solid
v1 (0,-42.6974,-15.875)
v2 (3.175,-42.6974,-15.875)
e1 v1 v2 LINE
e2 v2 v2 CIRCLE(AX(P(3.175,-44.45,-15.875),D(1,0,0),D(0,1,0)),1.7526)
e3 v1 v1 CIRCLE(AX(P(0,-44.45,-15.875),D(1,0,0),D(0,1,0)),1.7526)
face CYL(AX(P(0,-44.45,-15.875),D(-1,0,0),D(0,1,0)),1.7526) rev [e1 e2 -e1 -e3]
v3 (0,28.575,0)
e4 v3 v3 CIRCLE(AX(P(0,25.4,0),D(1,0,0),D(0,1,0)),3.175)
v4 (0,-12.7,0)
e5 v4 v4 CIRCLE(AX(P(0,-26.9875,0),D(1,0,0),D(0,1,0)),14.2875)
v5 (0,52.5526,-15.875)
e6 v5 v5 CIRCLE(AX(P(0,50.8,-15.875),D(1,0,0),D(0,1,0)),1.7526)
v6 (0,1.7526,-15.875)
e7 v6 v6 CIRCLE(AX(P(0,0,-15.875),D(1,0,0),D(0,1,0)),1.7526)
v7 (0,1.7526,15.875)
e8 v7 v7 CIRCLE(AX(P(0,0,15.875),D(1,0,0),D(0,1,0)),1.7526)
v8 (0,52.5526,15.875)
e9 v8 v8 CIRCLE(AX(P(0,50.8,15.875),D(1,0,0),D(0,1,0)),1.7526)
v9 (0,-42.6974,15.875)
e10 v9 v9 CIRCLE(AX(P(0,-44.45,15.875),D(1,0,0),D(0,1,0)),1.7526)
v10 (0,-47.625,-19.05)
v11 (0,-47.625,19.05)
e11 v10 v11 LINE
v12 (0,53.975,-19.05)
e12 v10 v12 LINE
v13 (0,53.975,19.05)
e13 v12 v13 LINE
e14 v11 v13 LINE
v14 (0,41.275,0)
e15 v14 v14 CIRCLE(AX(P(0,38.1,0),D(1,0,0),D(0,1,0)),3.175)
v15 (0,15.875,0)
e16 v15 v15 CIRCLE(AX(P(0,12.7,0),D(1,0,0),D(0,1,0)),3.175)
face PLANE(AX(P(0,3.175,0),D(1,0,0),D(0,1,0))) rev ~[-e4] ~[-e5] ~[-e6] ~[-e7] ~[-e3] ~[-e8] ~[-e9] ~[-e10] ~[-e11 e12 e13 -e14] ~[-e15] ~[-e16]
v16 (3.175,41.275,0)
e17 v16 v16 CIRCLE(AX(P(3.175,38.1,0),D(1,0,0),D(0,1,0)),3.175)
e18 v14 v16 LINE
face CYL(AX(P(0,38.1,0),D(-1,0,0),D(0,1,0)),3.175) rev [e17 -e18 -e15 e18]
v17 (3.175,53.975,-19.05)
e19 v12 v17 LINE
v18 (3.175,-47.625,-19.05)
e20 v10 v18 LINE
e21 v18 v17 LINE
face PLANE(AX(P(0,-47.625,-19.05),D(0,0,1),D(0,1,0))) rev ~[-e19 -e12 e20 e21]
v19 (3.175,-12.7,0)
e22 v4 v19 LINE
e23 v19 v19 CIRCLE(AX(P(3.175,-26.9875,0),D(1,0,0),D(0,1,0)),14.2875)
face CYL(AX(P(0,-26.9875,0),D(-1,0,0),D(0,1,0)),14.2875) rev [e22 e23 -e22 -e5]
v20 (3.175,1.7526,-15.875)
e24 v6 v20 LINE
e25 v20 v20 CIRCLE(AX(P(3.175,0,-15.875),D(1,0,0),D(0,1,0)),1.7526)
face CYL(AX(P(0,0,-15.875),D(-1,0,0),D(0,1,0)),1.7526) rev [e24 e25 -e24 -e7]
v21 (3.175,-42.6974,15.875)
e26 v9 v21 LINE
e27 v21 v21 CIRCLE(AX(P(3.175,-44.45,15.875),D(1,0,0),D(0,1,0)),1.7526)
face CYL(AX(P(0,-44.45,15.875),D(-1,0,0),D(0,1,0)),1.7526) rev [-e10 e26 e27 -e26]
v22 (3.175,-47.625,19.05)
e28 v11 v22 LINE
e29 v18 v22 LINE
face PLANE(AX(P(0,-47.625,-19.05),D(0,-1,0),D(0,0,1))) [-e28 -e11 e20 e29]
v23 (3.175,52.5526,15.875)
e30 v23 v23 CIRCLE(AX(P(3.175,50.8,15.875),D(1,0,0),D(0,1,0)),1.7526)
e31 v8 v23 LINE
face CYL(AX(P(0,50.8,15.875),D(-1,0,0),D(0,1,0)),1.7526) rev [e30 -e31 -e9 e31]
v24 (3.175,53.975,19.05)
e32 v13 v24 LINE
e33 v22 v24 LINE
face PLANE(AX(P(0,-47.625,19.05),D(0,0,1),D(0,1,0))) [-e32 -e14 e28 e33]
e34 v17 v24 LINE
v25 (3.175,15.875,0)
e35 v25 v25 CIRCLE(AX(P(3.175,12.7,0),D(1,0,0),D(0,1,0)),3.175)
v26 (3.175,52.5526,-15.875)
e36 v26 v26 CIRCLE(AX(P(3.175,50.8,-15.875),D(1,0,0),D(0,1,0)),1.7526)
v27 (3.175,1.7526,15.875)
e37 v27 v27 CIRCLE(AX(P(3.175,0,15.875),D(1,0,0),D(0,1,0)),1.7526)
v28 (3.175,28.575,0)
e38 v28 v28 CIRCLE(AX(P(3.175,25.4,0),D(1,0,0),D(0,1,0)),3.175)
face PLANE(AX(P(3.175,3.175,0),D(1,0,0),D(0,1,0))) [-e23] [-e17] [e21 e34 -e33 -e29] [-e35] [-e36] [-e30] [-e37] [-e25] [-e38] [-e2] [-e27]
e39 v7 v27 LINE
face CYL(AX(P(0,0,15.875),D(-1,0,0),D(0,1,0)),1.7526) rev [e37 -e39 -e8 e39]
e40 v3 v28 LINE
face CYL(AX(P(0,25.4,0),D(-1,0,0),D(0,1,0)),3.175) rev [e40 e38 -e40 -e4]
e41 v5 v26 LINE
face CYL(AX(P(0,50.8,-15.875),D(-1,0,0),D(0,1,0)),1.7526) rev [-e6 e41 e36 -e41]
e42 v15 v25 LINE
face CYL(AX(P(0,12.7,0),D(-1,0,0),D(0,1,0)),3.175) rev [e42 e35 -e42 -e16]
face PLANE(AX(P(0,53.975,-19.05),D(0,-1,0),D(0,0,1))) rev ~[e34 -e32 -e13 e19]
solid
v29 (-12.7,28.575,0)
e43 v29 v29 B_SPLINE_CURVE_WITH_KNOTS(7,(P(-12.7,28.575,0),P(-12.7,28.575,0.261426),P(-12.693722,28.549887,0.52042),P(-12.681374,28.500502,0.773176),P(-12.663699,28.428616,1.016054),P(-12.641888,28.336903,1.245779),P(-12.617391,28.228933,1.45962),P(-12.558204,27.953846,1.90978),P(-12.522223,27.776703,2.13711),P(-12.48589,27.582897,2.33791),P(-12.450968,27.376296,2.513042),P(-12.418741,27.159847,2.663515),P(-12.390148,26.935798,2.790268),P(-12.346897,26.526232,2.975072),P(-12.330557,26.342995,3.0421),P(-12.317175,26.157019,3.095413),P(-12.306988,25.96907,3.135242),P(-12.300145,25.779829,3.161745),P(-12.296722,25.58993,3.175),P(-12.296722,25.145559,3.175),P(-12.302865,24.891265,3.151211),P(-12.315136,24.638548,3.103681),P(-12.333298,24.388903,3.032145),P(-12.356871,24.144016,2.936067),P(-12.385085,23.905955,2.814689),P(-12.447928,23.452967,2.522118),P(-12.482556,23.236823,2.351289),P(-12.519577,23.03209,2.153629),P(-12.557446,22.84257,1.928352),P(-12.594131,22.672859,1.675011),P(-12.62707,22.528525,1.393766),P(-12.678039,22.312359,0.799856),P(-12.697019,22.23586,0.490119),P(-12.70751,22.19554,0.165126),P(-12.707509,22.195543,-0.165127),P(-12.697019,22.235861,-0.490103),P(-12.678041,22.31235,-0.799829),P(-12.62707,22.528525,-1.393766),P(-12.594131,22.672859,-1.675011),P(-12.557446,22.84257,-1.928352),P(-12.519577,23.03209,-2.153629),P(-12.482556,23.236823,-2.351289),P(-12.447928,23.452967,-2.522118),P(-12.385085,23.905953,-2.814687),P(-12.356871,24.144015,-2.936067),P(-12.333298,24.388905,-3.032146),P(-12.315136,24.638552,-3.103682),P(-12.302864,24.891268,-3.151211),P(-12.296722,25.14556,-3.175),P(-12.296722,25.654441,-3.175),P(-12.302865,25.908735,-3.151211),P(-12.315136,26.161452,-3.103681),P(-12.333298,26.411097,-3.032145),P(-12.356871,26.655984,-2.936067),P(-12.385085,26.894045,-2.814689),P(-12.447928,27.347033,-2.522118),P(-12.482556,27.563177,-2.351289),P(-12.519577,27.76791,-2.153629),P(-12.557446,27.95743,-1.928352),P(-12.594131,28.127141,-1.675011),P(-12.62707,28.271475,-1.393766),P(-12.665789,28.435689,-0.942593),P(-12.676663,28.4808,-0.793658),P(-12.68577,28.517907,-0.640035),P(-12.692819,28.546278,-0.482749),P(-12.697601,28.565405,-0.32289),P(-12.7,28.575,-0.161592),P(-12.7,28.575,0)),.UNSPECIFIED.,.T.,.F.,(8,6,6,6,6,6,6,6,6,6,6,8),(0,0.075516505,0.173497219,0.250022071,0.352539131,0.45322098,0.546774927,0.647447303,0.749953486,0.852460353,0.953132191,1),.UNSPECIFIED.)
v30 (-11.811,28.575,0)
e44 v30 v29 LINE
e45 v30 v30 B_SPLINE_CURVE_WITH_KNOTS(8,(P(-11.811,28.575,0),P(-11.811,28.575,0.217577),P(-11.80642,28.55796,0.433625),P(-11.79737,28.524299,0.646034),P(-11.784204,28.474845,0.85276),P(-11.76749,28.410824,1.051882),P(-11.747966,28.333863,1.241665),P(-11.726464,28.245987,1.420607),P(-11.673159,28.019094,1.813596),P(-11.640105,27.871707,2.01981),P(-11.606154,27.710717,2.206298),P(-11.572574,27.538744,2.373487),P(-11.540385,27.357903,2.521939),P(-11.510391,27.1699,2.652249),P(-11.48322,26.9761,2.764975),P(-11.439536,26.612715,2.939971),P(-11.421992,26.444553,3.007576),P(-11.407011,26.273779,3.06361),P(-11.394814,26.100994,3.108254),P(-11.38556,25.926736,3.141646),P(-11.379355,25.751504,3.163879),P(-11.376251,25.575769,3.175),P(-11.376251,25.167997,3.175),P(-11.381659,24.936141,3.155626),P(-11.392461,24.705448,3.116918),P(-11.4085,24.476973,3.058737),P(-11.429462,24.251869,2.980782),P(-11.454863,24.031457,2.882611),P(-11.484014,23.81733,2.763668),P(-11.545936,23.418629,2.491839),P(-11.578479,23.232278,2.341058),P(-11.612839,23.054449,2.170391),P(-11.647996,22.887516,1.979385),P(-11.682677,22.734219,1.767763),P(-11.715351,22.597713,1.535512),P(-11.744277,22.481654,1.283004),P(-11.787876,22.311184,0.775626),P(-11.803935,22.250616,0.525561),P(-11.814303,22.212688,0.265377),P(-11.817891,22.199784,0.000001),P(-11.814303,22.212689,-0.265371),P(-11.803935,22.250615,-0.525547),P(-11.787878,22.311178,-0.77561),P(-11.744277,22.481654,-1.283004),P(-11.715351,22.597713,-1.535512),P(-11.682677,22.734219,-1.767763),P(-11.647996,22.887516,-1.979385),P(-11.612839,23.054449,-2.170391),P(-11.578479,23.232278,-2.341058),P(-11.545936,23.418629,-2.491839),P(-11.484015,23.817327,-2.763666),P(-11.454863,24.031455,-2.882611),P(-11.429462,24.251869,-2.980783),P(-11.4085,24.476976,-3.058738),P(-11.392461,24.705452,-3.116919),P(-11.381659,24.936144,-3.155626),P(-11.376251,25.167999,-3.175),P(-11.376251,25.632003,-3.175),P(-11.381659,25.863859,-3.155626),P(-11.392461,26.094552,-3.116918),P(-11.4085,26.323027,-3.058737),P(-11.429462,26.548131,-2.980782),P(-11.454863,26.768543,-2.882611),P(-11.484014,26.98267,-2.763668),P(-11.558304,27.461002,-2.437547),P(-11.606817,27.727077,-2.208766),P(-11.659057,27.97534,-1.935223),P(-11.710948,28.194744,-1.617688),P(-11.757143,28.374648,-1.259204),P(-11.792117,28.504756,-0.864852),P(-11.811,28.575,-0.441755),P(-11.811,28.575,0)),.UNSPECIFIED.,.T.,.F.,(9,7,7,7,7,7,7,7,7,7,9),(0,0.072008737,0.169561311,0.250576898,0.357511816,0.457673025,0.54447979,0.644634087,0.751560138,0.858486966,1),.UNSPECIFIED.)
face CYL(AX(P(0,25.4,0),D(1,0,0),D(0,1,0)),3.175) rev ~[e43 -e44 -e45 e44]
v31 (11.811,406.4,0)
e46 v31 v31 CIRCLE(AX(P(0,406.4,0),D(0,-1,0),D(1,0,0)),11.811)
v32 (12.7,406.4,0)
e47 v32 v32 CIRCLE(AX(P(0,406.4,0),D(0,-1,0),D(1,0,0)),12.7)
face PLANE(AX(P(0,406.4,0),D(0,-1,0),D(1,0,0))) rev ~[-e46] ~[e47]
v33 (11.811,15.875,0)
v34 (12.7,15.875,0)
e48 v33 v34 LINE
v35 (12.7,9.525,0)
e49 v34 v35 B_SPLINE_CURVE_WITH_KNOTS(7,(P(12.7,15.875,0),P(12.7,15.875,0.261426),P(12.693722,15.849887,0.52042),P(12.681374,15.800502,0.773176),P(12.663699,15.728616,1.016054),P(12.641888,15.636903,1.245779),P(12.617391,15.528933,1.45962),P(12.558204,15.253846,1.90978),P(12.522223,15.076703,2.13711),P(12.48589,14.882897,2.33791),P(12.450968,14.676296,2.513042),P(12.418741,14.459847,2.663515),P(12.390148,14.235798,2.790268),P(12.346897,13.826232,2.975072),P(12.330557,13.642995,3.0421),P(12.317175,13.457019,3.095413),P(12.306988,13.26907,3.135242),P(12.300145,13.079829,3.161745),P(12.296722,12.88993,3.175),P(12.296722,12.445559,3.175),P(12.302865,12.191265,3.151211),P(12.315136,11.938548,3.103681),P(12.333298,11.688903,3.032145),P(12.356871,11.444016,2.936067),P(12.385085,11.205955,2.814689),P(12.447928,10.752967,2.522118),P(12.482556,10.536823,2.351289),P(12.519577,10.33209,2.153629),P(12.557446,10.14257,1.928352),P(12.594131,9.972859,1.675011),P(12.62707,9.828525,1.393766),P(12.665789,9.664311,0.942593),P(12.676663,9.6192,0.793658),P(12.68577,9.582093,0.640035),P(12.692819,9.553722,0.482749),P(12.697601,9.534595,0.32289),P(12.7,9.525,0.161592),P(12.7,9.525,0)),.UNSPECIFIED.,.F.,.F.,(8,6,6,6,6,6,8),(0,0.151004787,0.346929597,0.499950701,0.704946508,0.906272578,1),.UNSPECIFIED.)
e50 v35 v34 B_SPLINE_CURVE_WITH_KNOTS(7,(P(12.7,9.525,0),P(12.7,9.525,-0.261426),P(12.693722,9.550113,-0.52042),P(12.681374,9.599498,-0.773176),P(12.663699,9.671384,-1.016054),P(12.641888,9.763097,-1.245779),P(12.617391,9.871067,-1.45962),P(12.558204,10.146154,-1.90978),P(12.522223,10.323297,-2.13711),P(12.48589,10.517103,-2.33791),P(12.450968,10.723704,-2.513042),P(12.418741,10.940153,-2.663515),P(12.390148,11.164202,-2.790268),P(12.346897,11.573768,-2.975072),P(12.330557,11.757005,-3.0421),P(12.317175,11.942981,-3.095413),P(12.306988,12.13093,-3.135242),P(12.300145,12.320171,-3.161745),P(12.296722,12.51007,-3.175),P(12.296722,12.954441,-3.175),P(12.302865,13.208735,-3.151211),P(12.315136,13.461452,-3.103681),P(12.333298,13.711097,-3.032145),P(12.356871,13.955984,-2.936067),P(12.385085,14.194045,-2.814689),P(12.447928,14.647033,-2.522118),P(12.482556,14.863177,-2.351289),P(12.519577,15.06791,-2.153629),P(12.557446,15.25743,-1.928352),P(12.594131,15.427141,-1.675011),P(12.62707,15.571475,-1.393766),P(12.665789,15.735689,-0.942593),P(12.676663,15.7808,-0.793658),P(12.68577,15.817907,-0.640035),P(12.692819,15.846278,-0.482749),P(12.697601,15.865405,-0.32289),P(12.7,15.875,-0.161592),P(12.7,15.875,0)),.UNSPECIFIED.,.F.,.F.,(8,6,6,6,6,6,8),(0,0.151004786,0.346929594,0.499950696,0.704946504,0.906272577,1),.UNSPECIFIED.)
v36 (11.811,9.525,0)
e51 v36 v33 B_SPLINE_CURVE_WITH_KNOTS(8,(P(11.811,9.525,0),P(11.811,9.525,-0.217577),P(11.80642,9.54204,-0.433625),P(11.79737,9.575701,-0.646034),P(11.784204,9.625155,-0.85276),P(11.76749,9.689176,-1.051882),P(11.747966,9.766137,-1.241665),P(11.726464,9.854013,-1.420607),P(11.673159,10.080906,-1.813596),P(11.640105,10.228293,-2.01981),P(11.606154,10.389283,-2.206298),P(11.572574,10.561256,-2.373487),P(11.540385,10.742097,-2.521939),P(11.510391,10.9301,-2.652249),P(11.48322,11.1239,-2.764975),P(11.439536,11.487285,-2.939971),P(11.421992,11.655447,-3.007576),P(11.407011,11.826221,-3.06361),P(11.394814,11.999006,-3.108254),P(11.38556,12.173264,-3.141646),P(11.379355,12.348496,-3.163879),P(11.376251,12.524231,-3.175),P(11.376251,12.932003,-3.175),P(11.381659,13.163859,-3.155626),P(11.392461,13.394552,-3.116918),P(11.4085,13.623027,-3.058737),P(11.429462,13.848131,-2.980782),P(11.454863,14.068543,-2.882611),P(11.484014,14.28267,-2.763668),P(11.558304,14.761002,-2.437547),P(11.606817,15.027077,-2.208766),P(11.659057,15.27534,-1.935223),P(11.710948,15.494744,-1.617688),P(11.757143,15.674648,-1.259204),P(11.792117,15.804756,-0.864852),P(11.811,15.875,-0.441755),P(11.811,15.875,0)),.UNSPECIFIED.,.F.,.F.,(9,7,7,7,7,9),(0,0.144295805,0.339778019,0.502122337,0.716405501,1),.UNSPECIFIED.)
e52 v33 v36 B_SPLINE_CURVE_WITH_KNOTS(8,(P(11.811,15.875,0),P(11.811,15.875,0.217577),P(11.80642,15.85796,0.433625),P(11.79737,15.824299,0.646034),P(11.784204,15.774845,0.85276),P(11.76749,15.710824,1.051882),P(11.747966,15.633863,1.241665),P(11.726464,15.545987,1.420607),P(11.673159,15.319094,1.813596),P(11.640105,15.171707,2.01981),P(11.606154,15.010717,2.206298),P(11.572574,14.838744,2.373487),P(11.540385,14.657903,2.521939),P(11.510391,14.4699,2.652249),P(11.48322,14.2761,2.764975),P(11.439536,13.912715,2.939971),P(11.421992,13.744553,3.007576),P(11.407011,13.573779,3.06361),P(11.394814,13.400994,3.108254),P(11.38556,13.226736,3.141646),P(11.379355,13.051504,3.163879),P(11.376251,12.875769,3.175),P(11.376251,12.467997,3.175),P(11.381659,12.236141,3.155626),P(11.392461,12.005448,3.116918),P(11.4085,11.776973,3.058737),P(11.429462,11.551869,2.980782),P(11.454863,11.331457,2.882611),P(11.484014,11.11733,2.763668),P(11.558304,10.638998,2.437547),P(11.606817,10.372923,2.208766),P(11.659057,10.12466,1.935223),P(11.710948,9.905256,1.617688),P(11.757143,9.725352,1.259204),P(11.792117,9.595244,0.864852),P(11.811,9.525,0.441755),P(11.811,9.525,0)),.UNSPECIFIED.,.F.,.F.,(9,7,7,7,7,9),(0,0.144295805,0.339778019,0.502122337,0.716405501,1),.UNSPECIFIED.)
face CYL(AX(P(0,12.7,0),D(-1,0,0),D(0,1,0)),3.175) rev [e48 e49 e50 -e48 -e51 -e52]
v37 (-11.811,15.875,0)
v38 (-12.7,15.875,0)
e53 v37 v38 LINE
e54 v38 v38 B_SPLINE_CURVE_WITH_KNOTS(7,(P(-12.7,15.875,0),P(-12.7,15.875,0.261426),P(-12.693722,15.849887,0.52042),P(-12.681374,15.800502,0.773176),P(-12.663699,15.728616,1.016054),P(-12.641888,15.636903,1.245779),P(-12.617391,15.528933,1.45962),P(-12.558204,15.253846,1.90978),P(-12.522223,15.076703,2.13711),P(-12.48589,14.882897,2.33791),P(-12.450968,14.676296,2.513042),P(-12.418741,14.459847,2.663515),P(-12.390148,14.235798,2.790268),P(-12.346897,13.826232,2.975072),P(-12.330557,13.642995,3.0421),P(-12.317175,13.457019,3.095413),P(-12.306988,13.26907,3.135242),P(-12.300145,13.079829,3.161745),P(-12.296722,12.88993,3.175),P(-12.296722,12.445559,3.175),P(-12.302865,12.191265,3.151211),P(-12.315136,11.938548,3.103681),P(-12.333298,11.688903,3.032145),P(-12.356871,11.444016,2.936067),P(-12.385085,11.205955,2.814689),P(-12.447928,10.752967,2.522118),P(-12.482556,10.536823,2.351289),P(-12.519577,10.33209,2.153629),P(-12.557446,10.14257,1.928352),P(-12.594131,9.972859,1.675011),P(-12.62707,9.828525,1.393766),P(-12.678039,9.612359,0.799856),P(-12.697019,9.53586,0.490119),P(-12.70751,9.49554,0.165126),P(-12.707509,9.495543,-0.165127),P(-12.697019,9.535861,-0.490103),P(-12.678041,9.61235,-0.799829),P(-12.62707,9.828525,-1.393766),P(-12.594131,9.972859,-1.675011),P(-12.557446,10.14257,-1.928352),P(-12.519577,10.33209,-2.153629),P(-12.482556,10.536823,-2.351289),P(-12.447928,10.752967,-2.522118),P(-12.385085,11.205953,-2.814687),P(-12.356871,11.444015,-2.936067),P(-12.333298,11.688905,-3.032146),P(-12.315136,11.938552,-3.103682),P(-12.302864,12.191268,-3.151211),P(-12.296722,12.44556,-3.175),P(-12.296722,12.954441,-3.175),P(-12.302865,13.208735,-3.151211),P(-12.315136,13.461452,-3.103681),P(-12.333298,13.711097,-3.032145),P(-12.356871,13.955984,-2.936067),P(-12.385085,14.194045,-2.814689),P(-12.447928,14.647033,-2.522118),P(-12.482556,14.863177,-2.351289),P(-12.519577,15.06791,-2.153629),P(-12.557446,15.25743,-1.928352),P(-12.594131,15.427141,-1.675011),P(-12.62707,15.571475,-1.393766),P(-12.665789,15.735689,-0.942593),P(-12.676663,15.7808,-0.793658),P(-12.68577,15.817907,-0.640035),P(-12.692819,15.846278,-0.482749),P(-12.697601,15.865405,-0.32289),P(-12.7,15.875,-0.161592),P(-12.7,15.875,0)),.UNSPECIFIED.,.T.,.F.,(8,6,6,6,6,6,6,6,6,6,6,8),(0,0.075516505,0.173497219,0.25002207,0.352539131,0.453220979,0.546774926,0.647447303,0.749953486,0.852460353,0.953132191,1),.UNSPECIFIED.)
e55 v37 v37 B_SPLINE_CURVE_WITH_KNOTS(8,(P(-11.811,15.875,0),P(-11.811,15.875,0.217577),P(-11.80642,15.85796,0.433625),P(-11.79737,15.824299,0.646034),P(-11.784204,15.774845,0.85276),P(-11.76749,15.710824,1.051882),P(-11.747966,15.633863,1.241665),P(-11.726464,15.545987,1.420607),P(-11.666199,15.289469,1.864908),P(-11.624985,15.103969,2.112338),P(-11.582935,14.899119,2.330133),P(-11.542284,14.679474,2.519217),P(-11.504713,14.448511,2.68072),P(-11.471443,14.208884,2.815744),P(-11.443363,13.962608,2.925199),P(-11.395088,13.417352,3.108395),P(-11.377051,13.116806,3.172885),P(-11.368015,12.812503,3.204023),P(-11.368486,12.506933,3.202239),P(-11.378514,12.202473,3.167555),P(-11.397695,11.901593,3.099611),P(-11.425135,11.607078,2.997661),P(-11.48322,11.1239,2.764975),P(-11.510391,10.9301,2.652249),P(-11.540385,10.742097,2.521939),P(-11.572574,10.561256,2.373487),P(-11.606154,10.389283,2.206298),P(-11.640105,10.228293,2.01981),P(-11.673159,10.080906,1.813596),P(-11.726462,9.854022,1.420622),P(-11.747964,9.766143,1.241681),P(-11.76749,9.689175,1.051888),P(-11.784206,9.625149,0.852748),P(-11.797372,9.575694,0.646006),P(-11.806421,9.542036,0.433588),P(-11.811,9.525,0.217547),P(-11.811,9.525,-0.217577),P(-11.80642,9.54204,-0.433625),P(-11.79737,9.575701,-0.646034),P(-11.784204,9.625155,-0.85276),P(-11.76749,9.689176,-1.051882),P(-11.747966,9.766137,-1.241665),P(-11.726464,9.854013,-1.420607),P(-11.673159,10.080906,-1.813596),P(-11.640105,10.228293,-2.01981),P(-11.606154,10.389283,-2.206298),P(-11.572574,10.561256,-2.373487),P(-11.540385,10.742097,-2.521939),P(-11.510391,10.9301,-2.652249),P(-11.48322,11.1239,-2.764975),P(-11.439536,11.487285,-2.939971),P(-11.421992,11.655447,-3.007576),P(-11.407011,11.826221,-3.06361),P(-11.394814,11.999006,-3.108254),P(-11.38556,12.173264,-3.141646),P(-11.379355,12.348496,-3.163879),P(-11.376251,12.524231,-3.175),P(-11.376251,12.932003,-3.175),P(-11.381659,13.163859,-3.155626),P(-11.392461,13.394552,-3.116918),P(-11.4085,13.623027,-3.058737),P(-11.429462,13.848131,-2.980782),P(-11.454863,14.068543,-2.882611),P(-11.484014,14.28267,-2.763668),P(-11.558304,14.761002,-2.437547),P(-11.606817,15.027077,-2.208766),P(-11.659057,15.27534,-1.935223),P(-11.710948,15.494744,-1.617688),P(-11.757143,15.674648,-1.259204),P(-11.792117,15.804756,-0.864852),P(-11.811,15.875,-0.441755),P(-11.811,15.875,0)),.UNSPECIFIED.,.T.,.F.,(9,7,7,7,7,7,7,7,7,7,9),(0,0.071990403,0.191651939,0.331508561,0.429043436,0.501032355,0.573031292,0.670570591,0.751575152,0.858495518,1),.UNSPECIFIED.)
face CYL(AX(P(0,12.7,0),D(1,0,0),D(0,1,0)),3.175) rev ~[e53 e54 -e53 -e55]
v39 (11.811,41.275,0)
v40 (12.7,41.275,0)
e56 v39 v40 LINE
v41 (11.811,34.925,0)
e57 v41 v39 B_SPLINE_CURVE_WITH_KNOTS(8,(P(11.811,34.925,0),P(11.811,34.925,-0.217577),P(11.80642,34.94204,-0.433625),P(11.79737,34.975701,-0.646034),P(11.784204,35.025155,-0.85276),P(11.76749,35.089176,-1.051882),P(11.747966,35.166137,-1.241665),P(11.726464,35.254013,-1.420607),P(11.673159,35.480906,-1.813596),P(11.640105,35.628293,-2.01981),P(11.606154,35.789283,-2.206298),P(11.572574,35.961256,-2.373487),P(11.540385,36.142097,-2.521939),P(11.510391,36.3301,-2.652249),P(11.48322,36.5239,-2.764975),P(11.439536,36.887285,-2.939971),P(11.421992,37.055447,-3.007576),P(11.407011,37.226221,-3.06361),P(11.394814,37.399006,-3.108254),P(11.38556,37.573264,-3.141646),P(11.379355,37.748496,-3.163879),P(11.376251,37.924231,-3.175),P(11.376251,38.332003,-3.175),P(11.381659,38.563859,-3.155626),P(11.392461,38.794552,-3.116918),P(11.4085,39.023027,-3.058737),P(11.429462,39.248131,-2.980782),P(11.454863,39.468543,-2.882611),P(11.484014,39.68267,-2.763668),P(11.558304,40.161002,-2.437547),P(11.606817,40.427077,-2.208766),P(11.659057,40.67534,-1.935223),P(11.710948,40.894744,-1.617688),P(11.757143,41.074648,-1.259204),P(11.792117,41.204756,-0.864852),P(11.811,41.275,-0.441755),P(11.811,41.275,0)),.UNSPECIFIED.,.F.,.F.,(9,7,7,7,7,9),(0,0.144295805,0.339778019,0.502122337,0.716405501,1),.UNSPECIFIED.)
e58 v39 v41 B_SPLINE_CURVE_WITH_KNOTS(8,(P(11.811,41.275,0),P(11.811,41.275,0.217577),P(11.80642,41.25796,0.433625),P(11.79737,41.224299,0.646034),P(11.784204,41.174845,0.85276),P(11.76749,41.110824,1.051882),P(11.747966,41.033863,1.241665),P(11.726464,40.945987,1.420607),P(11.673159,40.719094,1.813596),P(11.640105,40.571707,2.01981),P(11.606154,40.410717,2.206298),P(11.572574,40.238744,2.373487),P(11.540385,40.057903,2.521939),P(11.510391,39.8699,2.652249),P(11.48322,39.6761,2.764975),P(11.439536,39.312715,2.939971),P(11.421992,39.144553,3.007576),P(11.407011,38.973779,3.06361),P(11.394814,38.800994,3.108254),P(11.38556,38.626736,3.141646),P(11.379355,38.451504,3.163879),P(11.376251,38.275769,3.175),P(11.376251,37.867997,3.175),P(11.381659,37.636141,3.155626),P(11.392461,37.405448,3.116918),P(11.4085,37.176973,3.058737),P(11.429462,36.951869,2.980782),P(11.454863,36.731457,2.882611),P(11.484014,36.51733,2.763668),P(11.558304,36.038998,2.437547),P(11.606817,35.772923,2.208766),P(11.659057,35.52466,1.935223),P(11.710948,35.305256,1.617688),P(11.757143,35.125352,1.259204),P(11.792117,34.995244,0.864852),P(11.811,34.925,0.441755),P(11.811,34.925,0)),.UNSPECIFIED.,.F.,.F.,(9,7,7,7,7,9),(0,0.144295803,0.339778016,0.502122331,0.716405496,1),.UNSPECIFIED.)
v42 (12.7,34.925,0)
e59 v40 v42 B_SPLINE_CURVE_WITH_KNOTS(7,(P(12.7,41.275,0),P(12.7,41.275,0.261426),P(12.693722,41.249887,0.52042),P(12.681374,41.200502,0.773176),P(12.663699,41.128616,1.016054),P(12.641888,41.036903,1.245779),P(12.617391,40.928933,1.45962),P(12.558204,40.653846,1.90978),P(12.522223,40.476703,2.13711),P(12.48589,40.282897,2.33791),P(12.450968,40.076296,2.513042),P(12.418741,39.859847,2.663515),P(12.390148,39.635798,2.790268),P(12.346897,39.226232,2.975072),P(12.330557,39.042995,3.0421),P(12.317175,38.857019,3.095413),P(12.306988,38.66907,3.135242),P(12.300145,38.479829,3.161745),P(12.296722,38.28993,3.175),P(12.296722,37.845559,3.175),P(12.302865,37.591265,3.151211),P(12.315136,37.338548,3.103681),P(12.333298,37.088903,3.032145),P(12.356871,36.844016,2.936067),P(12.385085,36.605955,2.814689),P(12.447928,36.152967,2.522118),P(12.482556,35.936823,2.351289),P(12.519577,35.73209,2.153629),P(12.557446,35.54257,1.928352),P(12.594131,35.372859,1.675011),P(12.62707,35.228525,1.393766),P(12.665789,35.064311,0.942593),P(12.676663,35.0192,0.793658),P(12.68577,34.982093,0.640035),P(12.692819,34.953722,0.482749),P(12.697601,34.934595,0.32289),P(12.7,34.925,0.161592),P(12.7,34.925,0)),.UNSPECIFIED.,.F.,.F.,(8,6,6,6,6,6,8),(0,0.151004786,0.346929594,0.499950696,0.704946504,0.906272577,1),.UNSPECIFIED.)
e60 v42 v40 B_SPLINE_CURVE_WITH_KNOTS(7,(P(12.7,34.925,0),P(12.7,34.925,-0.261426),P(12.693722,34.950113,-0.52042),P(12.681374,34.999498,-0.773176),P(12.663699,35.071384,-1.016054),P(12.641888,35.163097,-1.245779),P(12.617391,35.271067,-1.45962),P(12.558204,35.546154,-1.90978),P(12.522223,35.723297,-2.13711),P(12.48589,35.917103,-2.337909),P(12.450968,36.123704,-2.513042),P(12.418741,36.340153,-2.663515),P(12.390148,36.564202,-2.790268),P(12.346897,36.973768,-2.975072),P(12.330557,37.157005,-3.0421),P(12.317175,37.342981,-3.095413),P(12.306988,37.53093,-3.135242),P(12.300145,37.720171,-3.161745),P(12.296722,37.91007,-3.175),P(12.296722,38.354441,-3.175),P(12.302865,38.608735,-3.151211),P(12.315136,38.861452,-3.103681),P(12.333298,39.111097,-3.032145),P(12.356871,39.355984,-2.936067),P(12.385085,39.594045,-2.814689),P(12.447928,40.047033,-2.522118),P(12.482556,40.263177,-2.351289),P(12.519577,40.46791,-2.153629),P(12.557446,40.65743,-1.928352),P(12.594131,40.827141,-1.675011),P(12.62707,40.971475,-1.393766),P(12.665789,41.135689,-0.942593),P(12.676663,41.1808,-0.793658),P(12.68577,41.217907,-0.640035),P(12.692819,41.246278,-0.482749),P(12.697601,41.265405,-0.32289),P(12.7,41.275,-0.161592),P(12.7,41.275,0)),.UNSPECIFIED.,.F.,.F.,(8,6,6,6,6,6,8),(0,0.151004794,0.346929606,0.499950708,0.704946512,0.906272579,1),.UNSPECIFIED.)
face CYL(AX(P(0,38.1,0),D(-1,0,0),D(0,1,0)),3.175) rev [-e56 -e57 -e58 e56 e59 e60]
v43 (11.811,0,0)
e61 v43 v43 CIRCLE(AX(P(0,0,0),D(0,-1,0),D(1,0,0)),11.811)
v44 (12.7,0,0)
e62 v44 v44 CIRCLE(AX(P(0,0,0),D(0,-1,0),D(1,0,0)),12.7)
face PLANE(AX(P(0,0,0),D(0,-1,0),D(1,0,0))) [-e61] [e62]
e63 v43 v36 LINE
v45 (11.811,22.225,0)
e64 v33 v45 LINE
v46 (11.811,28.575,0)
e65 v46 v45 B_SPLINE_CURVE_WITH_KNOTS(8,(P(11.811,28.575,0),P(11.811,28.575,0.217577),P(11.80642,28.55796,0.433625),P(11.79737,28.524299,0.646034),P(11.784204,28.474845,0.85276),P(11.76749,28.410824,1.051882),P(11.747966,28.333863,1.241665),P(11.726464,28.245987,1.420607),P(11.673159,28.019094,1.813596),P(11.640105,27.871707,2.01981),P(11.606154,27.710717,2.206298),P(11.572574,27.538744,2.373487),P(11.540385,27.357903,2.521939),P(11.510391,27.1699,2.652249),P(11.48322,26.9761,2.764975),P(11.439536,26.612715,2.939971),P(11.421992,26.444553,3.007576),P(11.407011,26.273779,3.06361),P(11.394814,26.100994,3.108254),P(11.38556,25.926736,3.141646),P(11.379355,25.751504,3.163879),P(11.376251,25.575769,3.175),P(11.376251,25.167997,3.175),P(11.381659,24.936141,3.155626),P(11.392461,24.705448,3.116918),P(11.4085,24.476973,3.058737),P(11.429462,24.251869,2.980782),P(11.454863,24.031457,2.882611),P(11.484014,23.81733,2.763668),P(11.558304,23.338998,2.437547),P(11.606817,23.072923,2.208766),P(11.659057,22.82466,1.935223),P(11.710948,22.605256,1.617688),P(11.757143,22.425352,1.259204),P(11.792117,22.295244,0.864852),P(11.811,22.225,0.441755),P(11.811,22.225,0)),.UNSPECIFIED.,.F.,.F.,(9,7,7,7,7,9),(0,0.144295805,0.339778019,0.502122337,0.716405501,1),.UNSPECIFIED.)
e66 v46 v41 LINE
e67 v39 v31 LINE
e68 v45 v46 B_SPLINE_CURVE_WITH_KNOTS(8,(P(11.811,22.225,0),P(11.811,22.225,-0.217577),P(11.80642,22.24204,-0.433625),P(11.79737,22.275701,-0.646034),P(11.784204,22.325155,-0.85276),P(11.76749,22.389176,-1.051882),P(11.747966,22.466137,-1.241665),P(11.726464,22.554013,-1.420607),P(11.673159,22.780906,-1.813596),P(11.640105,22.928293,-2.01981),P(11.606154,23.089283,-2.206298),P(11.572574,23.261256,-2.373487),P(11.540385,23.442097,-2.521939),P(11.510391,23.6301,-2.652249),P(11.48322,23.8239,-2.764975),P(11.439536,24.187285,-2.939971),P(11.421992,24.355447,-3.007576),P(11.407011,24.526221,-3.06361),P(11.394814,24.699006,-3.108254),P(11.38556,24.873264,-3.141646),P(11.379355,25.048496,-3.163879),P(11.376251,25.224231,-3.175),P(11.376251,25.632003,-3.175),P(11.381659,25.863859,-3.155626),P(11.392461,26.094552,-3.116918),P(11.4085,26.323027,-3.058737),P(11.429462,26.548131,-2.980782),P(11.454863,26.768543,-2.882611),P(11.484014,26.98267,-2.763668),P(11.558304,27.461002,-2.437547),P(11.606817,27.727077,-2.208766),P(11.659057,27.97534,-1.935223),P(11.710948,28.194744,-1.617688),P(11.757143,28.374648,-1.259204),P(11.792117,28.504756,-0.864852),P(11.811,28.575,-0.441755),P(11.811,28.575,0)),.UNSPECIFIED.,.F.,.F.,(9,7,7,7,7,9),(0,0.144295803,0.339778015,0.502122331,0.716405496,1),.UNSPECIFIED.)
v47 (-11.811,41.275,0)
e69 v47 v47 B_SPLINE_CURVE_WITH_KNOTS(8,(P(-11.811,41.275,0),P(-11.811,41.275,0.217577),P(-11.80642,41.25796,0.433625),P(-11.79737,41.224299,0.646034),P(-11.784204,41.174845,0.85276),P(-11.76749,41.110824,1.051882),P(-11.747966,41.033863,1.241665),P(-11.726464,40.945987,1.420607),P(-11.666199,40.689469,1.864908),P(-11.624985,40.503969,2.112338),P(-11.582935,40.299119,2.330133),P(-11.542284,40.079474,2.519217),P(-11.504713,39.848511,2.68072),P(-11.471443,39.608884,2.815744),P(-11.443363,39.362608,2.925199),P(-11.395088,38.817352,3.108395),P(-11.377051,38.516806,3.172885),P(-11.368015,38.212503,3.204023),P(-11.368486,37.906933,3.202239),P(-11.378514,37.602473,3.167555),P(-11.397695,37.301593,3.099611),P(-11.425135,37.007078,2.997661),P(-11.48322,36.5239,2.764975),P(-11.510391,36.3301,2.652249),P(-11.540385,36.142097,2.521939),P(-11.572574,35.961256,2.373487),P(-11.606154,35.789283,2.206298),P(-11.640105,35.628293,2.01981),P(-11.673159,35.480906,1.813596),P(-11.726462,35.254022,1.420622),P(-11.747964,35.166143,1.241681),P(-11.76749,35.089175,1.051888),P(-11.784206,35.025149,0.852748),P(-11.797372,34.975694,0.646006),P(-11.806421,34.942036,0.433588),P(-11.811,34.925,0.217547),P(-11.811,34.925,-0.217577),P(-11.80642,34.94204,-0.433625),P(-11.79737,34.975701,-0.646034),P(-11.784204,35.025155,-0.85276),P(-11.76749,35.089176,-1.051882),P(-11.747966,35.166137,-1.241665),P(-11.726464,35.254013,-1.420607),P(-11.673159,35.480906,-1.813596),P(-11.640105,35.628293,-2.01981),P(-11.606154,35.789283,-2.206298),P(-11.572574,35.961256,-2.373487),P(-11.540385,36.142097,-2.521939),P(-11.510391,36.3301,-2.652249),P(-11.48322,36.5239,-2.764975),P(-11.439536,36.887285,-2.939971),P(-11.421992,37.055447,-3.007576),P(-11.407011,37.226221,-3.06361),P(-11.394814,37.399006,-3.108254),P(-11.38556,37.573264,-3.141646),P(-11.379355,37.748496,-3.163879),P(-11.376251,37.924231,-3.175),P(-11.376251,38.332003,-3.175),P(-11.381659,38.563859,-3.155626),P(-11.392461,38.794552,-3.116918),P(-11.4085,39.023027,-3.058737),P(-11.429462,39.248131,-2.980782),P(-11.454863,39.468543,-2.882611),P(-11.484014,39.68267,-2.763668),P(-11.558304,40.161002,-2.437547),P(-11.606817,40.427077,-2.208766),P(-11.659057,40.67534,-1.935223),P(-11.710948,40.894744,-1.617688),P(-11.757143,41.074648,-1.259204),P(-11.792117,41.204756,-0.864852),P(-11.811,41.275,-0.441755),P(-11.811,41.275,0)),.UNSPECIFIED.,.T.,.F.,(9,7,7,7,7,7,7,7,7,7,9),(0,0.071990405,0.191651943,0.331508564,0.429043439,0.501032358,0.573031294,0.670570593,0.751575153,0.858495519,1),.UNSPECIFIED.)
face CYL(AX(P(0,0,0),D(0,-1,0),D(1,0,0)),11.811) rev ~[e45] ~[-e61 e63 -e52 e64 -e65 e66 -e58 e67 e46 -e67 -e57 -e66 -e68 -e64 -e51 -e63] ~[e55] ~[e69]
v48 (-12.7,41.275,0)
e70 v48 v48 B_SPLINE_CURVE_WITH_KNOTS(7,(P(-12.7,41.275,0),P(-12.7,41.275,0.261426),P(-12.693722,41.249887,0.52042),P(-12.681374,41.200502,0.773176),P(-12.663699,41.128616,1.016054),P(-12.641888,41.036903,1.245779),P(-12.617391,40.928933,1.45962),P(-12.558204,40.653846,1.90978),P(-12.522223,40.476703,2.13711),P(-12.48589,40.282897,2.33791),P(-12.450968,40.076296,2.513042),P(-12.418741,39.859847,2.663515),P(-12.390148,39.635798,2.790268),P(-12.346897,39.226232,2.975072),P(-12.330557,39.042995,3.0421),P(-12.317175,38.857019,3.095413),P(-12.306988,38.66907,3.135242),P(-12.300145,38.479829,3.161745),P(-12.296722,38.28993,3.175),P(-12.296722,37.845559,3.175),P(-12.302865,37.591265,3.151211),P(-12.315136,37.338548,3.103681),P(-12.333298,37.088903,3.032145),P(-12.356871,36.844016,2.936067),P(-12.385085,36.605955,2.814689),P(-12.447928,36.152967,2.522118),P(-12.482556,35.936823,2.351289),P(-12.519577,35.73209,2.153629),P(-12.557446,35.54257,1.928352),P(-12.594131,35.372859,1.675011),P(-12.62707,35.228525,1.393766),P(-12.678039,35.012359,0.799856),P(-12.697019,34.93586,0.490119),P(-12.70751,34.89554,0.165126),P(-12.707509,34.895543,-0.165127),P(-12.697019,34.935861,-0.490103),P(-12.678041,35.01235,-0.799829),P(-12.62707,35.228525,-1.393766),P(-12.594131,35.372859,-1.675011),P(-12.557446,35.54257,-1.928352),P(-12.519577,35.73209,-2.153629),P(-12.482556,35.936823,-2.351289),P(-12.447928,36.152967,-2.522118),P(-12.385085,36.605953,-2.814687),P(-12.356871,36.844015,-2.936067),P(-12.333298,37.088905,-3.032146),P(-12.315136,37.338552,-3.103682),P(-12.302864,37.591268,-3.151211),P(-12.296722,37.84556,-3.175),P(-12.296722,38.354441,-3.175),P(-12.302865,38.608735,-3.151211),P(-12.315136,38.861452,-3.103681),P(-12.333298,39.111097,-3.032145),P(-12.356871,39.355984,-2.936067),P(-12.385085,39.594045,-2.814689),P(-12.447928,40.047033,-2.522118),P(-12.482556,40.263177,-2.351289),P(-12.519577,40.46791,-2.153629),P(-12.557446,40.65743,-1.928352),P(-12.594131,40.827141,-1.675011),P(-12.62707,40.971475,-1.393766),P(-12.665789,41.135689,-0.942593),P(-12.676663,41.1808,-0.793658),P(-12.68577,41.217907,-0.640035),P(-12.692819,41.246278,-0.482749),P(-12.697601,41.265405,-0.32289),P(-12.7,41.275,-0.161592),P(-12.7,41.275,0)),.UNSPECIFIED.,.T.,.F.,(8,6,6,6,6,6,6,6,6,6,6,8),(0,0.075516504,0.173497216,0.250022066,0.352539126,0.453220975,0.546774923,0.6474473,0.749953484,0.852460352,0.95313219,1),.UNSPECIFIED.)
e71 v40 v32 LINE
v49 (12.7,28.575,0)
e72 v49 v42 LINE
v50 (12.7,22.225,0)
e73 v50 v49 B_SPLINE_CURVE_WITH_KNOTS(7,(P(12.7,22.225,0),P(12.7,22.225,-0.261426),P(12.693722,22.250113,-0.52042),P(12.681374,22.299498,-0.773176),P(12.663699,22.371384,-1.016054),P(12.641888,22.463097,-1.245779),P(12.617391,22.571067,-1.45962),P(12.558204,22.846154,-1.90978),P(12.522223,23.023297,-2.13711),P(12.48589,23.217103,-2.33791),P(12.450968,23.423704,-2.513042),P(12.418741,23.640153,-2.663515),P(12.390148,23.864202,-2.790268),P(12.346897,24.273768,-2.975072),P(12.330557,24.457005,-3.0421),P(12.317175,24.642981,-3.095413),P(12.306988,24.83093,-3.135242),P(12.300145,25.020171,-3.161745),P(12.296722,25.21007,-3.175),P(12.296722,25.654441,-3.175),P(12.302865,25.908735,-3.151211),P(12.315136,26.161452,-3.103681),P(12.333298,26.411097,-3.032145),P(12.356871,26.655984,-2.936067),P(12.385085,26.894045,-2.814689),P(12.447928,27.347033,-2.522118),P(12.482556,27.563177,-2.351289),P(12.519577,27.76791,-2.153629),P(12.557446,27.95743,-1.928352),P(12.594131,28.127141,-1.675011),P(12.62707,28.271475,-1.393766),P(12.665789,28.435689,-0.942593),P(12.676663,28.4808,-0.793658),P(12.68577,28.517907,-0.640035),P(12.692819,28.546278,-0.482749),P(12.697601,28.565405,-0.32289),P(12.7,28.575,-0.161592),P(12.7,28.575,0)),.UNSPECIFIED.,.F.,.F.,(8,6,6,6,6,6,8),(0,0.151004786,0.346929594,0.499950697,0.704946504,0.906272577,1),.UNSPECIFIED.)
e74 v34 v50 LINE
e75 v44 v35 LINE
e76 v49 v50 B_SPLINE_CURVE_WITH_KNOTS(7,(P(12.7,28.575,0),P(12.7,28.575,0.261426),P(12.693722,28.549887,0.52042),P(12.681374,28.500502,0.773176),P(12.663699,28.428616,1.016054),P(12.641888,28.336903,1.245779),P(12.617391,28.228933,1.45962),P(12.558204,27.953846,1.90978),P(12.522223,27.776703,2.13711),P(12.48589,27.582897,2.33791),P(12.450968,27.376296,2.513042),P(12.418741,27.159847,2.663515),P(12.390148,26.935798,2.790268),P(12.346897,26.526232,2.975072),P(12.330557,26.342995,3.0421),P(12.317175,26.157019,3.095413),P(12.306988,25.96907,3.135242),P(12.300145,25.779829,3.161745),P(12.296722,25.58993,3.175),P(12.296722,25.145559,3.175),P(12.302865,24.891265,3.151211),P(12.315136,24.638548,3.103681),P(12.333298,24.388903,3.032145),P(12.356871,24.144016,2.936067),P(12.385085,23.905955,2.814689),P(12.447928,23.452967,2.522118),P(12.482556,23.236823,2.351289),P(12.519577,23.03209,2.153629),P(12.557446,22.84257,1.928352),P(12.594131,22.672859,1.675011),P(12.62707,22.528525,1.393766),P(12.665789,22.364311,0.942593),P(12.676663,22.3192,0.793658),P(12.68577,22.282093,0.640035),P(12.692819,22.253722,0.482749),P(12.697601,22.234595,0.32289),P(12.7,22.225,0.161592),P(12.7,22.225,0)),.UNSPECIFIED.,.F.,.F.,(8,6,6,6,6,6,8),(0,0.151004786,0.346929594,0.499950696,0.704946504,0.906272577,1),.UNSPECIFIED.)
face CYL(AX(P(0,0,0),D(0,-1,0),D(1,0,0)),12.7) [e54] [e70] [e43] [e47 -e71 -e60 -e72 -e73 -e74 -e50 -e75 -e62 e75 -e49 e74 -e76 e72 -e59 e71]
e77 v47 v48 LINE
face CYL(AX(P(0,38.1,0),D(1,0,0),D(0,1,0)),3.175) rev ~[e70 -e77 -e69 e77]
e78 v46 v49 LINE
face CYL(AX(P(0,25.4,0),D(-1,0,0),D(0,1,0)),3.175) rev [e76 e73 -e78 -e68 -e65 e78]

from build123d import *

# Parameters (mm, degrees)
F0_R          = 12.7
F0_R_2        = 11.811
F1_DEPTH      = 406.4
F2_R          = 3.175
F3_DEPTH      = 12.701
F3_DEPTH_BACK = 25.4
F4_W          = 101.6
F4_H          = 38.1
F4_R          = 1.7526
F4_R_2        = 14.2875
F4_R_3        = 3.175
F5_DEPTH      = 3.175


with BuildPart() as f1:
    # F0 (on Front) → F1 (new body)
    with BuildSketch(Plane.XZ):
        Circle(F0_R)
        Circle(F0_R_2, mode=Mode.SUBTRACT)
    extrude(amount=-F1_DEPTH)

    # F2 (on Right) → F3 (cut, two sides)
    with BuildSketch(Plane.YZ) as f3_sk:
        with Locations((12.7, 0)):
            Circle(F2_R)
        with Locations((25.4, 0)):
            Circle(F2_R)
        with Locations((38.1, 0)):
            Circle(F2_R)
    extrude(amount=F3_DEPTH, mode=Mode.SUBTRACT)
    extrude(f3_sk.sketch, amount=-F3_DEPTH_BACK, mode=Mode.SUBTRACT)


with BuildPart() as f5:
    # F4 (on Right) → F5 (new body)
    with BuildSketch(Plane.YZ):
        with Locations((3.175, 0)):
            Rectangle(F4_W, F4_H)
        with Locations((-44.45, -15.875)):
            Circle(F4_R, mode=Mode.SUBTRACT)
        with Locations((0, -15.875)):
            Circle(F4_R, mode=Mode.SUBTRACT)
        with Locations((50.8, -15.875)):
            Circle(F4_R, mode=Mode.SUBTRACT)
        with Locations((-26.9875, 0)):
            Circle(F4_R_2, mode=Mode.SUBTRACT)
        with Locations((-44.45, 15.875)):
            Circle(F4_R, mode=Mode.SUBTRACT)
        with Locations((0, 15.875)):
            Circle(F4_R, mode=Mode.SUBTRACT)
        with Locations((12.7, 0)):
            Circle(F4_R_3, mode=Mode.SUBTRACT)
        with Locations((25.4, 0)):
            Circle(F4_R_3, mode=Mode.SUBTRACT)
        with Locations((38.1, 0)):
            Circle(F4_R_3, mode=Mode.SUBTRACT)
        with Locations((50.8, 15.875)):
            Circle(F4_R, mode=Mode.SUBTRACT)
    extrude(amount=F5_DEPTH)


solid = Compound([f1.part, f5.part])
